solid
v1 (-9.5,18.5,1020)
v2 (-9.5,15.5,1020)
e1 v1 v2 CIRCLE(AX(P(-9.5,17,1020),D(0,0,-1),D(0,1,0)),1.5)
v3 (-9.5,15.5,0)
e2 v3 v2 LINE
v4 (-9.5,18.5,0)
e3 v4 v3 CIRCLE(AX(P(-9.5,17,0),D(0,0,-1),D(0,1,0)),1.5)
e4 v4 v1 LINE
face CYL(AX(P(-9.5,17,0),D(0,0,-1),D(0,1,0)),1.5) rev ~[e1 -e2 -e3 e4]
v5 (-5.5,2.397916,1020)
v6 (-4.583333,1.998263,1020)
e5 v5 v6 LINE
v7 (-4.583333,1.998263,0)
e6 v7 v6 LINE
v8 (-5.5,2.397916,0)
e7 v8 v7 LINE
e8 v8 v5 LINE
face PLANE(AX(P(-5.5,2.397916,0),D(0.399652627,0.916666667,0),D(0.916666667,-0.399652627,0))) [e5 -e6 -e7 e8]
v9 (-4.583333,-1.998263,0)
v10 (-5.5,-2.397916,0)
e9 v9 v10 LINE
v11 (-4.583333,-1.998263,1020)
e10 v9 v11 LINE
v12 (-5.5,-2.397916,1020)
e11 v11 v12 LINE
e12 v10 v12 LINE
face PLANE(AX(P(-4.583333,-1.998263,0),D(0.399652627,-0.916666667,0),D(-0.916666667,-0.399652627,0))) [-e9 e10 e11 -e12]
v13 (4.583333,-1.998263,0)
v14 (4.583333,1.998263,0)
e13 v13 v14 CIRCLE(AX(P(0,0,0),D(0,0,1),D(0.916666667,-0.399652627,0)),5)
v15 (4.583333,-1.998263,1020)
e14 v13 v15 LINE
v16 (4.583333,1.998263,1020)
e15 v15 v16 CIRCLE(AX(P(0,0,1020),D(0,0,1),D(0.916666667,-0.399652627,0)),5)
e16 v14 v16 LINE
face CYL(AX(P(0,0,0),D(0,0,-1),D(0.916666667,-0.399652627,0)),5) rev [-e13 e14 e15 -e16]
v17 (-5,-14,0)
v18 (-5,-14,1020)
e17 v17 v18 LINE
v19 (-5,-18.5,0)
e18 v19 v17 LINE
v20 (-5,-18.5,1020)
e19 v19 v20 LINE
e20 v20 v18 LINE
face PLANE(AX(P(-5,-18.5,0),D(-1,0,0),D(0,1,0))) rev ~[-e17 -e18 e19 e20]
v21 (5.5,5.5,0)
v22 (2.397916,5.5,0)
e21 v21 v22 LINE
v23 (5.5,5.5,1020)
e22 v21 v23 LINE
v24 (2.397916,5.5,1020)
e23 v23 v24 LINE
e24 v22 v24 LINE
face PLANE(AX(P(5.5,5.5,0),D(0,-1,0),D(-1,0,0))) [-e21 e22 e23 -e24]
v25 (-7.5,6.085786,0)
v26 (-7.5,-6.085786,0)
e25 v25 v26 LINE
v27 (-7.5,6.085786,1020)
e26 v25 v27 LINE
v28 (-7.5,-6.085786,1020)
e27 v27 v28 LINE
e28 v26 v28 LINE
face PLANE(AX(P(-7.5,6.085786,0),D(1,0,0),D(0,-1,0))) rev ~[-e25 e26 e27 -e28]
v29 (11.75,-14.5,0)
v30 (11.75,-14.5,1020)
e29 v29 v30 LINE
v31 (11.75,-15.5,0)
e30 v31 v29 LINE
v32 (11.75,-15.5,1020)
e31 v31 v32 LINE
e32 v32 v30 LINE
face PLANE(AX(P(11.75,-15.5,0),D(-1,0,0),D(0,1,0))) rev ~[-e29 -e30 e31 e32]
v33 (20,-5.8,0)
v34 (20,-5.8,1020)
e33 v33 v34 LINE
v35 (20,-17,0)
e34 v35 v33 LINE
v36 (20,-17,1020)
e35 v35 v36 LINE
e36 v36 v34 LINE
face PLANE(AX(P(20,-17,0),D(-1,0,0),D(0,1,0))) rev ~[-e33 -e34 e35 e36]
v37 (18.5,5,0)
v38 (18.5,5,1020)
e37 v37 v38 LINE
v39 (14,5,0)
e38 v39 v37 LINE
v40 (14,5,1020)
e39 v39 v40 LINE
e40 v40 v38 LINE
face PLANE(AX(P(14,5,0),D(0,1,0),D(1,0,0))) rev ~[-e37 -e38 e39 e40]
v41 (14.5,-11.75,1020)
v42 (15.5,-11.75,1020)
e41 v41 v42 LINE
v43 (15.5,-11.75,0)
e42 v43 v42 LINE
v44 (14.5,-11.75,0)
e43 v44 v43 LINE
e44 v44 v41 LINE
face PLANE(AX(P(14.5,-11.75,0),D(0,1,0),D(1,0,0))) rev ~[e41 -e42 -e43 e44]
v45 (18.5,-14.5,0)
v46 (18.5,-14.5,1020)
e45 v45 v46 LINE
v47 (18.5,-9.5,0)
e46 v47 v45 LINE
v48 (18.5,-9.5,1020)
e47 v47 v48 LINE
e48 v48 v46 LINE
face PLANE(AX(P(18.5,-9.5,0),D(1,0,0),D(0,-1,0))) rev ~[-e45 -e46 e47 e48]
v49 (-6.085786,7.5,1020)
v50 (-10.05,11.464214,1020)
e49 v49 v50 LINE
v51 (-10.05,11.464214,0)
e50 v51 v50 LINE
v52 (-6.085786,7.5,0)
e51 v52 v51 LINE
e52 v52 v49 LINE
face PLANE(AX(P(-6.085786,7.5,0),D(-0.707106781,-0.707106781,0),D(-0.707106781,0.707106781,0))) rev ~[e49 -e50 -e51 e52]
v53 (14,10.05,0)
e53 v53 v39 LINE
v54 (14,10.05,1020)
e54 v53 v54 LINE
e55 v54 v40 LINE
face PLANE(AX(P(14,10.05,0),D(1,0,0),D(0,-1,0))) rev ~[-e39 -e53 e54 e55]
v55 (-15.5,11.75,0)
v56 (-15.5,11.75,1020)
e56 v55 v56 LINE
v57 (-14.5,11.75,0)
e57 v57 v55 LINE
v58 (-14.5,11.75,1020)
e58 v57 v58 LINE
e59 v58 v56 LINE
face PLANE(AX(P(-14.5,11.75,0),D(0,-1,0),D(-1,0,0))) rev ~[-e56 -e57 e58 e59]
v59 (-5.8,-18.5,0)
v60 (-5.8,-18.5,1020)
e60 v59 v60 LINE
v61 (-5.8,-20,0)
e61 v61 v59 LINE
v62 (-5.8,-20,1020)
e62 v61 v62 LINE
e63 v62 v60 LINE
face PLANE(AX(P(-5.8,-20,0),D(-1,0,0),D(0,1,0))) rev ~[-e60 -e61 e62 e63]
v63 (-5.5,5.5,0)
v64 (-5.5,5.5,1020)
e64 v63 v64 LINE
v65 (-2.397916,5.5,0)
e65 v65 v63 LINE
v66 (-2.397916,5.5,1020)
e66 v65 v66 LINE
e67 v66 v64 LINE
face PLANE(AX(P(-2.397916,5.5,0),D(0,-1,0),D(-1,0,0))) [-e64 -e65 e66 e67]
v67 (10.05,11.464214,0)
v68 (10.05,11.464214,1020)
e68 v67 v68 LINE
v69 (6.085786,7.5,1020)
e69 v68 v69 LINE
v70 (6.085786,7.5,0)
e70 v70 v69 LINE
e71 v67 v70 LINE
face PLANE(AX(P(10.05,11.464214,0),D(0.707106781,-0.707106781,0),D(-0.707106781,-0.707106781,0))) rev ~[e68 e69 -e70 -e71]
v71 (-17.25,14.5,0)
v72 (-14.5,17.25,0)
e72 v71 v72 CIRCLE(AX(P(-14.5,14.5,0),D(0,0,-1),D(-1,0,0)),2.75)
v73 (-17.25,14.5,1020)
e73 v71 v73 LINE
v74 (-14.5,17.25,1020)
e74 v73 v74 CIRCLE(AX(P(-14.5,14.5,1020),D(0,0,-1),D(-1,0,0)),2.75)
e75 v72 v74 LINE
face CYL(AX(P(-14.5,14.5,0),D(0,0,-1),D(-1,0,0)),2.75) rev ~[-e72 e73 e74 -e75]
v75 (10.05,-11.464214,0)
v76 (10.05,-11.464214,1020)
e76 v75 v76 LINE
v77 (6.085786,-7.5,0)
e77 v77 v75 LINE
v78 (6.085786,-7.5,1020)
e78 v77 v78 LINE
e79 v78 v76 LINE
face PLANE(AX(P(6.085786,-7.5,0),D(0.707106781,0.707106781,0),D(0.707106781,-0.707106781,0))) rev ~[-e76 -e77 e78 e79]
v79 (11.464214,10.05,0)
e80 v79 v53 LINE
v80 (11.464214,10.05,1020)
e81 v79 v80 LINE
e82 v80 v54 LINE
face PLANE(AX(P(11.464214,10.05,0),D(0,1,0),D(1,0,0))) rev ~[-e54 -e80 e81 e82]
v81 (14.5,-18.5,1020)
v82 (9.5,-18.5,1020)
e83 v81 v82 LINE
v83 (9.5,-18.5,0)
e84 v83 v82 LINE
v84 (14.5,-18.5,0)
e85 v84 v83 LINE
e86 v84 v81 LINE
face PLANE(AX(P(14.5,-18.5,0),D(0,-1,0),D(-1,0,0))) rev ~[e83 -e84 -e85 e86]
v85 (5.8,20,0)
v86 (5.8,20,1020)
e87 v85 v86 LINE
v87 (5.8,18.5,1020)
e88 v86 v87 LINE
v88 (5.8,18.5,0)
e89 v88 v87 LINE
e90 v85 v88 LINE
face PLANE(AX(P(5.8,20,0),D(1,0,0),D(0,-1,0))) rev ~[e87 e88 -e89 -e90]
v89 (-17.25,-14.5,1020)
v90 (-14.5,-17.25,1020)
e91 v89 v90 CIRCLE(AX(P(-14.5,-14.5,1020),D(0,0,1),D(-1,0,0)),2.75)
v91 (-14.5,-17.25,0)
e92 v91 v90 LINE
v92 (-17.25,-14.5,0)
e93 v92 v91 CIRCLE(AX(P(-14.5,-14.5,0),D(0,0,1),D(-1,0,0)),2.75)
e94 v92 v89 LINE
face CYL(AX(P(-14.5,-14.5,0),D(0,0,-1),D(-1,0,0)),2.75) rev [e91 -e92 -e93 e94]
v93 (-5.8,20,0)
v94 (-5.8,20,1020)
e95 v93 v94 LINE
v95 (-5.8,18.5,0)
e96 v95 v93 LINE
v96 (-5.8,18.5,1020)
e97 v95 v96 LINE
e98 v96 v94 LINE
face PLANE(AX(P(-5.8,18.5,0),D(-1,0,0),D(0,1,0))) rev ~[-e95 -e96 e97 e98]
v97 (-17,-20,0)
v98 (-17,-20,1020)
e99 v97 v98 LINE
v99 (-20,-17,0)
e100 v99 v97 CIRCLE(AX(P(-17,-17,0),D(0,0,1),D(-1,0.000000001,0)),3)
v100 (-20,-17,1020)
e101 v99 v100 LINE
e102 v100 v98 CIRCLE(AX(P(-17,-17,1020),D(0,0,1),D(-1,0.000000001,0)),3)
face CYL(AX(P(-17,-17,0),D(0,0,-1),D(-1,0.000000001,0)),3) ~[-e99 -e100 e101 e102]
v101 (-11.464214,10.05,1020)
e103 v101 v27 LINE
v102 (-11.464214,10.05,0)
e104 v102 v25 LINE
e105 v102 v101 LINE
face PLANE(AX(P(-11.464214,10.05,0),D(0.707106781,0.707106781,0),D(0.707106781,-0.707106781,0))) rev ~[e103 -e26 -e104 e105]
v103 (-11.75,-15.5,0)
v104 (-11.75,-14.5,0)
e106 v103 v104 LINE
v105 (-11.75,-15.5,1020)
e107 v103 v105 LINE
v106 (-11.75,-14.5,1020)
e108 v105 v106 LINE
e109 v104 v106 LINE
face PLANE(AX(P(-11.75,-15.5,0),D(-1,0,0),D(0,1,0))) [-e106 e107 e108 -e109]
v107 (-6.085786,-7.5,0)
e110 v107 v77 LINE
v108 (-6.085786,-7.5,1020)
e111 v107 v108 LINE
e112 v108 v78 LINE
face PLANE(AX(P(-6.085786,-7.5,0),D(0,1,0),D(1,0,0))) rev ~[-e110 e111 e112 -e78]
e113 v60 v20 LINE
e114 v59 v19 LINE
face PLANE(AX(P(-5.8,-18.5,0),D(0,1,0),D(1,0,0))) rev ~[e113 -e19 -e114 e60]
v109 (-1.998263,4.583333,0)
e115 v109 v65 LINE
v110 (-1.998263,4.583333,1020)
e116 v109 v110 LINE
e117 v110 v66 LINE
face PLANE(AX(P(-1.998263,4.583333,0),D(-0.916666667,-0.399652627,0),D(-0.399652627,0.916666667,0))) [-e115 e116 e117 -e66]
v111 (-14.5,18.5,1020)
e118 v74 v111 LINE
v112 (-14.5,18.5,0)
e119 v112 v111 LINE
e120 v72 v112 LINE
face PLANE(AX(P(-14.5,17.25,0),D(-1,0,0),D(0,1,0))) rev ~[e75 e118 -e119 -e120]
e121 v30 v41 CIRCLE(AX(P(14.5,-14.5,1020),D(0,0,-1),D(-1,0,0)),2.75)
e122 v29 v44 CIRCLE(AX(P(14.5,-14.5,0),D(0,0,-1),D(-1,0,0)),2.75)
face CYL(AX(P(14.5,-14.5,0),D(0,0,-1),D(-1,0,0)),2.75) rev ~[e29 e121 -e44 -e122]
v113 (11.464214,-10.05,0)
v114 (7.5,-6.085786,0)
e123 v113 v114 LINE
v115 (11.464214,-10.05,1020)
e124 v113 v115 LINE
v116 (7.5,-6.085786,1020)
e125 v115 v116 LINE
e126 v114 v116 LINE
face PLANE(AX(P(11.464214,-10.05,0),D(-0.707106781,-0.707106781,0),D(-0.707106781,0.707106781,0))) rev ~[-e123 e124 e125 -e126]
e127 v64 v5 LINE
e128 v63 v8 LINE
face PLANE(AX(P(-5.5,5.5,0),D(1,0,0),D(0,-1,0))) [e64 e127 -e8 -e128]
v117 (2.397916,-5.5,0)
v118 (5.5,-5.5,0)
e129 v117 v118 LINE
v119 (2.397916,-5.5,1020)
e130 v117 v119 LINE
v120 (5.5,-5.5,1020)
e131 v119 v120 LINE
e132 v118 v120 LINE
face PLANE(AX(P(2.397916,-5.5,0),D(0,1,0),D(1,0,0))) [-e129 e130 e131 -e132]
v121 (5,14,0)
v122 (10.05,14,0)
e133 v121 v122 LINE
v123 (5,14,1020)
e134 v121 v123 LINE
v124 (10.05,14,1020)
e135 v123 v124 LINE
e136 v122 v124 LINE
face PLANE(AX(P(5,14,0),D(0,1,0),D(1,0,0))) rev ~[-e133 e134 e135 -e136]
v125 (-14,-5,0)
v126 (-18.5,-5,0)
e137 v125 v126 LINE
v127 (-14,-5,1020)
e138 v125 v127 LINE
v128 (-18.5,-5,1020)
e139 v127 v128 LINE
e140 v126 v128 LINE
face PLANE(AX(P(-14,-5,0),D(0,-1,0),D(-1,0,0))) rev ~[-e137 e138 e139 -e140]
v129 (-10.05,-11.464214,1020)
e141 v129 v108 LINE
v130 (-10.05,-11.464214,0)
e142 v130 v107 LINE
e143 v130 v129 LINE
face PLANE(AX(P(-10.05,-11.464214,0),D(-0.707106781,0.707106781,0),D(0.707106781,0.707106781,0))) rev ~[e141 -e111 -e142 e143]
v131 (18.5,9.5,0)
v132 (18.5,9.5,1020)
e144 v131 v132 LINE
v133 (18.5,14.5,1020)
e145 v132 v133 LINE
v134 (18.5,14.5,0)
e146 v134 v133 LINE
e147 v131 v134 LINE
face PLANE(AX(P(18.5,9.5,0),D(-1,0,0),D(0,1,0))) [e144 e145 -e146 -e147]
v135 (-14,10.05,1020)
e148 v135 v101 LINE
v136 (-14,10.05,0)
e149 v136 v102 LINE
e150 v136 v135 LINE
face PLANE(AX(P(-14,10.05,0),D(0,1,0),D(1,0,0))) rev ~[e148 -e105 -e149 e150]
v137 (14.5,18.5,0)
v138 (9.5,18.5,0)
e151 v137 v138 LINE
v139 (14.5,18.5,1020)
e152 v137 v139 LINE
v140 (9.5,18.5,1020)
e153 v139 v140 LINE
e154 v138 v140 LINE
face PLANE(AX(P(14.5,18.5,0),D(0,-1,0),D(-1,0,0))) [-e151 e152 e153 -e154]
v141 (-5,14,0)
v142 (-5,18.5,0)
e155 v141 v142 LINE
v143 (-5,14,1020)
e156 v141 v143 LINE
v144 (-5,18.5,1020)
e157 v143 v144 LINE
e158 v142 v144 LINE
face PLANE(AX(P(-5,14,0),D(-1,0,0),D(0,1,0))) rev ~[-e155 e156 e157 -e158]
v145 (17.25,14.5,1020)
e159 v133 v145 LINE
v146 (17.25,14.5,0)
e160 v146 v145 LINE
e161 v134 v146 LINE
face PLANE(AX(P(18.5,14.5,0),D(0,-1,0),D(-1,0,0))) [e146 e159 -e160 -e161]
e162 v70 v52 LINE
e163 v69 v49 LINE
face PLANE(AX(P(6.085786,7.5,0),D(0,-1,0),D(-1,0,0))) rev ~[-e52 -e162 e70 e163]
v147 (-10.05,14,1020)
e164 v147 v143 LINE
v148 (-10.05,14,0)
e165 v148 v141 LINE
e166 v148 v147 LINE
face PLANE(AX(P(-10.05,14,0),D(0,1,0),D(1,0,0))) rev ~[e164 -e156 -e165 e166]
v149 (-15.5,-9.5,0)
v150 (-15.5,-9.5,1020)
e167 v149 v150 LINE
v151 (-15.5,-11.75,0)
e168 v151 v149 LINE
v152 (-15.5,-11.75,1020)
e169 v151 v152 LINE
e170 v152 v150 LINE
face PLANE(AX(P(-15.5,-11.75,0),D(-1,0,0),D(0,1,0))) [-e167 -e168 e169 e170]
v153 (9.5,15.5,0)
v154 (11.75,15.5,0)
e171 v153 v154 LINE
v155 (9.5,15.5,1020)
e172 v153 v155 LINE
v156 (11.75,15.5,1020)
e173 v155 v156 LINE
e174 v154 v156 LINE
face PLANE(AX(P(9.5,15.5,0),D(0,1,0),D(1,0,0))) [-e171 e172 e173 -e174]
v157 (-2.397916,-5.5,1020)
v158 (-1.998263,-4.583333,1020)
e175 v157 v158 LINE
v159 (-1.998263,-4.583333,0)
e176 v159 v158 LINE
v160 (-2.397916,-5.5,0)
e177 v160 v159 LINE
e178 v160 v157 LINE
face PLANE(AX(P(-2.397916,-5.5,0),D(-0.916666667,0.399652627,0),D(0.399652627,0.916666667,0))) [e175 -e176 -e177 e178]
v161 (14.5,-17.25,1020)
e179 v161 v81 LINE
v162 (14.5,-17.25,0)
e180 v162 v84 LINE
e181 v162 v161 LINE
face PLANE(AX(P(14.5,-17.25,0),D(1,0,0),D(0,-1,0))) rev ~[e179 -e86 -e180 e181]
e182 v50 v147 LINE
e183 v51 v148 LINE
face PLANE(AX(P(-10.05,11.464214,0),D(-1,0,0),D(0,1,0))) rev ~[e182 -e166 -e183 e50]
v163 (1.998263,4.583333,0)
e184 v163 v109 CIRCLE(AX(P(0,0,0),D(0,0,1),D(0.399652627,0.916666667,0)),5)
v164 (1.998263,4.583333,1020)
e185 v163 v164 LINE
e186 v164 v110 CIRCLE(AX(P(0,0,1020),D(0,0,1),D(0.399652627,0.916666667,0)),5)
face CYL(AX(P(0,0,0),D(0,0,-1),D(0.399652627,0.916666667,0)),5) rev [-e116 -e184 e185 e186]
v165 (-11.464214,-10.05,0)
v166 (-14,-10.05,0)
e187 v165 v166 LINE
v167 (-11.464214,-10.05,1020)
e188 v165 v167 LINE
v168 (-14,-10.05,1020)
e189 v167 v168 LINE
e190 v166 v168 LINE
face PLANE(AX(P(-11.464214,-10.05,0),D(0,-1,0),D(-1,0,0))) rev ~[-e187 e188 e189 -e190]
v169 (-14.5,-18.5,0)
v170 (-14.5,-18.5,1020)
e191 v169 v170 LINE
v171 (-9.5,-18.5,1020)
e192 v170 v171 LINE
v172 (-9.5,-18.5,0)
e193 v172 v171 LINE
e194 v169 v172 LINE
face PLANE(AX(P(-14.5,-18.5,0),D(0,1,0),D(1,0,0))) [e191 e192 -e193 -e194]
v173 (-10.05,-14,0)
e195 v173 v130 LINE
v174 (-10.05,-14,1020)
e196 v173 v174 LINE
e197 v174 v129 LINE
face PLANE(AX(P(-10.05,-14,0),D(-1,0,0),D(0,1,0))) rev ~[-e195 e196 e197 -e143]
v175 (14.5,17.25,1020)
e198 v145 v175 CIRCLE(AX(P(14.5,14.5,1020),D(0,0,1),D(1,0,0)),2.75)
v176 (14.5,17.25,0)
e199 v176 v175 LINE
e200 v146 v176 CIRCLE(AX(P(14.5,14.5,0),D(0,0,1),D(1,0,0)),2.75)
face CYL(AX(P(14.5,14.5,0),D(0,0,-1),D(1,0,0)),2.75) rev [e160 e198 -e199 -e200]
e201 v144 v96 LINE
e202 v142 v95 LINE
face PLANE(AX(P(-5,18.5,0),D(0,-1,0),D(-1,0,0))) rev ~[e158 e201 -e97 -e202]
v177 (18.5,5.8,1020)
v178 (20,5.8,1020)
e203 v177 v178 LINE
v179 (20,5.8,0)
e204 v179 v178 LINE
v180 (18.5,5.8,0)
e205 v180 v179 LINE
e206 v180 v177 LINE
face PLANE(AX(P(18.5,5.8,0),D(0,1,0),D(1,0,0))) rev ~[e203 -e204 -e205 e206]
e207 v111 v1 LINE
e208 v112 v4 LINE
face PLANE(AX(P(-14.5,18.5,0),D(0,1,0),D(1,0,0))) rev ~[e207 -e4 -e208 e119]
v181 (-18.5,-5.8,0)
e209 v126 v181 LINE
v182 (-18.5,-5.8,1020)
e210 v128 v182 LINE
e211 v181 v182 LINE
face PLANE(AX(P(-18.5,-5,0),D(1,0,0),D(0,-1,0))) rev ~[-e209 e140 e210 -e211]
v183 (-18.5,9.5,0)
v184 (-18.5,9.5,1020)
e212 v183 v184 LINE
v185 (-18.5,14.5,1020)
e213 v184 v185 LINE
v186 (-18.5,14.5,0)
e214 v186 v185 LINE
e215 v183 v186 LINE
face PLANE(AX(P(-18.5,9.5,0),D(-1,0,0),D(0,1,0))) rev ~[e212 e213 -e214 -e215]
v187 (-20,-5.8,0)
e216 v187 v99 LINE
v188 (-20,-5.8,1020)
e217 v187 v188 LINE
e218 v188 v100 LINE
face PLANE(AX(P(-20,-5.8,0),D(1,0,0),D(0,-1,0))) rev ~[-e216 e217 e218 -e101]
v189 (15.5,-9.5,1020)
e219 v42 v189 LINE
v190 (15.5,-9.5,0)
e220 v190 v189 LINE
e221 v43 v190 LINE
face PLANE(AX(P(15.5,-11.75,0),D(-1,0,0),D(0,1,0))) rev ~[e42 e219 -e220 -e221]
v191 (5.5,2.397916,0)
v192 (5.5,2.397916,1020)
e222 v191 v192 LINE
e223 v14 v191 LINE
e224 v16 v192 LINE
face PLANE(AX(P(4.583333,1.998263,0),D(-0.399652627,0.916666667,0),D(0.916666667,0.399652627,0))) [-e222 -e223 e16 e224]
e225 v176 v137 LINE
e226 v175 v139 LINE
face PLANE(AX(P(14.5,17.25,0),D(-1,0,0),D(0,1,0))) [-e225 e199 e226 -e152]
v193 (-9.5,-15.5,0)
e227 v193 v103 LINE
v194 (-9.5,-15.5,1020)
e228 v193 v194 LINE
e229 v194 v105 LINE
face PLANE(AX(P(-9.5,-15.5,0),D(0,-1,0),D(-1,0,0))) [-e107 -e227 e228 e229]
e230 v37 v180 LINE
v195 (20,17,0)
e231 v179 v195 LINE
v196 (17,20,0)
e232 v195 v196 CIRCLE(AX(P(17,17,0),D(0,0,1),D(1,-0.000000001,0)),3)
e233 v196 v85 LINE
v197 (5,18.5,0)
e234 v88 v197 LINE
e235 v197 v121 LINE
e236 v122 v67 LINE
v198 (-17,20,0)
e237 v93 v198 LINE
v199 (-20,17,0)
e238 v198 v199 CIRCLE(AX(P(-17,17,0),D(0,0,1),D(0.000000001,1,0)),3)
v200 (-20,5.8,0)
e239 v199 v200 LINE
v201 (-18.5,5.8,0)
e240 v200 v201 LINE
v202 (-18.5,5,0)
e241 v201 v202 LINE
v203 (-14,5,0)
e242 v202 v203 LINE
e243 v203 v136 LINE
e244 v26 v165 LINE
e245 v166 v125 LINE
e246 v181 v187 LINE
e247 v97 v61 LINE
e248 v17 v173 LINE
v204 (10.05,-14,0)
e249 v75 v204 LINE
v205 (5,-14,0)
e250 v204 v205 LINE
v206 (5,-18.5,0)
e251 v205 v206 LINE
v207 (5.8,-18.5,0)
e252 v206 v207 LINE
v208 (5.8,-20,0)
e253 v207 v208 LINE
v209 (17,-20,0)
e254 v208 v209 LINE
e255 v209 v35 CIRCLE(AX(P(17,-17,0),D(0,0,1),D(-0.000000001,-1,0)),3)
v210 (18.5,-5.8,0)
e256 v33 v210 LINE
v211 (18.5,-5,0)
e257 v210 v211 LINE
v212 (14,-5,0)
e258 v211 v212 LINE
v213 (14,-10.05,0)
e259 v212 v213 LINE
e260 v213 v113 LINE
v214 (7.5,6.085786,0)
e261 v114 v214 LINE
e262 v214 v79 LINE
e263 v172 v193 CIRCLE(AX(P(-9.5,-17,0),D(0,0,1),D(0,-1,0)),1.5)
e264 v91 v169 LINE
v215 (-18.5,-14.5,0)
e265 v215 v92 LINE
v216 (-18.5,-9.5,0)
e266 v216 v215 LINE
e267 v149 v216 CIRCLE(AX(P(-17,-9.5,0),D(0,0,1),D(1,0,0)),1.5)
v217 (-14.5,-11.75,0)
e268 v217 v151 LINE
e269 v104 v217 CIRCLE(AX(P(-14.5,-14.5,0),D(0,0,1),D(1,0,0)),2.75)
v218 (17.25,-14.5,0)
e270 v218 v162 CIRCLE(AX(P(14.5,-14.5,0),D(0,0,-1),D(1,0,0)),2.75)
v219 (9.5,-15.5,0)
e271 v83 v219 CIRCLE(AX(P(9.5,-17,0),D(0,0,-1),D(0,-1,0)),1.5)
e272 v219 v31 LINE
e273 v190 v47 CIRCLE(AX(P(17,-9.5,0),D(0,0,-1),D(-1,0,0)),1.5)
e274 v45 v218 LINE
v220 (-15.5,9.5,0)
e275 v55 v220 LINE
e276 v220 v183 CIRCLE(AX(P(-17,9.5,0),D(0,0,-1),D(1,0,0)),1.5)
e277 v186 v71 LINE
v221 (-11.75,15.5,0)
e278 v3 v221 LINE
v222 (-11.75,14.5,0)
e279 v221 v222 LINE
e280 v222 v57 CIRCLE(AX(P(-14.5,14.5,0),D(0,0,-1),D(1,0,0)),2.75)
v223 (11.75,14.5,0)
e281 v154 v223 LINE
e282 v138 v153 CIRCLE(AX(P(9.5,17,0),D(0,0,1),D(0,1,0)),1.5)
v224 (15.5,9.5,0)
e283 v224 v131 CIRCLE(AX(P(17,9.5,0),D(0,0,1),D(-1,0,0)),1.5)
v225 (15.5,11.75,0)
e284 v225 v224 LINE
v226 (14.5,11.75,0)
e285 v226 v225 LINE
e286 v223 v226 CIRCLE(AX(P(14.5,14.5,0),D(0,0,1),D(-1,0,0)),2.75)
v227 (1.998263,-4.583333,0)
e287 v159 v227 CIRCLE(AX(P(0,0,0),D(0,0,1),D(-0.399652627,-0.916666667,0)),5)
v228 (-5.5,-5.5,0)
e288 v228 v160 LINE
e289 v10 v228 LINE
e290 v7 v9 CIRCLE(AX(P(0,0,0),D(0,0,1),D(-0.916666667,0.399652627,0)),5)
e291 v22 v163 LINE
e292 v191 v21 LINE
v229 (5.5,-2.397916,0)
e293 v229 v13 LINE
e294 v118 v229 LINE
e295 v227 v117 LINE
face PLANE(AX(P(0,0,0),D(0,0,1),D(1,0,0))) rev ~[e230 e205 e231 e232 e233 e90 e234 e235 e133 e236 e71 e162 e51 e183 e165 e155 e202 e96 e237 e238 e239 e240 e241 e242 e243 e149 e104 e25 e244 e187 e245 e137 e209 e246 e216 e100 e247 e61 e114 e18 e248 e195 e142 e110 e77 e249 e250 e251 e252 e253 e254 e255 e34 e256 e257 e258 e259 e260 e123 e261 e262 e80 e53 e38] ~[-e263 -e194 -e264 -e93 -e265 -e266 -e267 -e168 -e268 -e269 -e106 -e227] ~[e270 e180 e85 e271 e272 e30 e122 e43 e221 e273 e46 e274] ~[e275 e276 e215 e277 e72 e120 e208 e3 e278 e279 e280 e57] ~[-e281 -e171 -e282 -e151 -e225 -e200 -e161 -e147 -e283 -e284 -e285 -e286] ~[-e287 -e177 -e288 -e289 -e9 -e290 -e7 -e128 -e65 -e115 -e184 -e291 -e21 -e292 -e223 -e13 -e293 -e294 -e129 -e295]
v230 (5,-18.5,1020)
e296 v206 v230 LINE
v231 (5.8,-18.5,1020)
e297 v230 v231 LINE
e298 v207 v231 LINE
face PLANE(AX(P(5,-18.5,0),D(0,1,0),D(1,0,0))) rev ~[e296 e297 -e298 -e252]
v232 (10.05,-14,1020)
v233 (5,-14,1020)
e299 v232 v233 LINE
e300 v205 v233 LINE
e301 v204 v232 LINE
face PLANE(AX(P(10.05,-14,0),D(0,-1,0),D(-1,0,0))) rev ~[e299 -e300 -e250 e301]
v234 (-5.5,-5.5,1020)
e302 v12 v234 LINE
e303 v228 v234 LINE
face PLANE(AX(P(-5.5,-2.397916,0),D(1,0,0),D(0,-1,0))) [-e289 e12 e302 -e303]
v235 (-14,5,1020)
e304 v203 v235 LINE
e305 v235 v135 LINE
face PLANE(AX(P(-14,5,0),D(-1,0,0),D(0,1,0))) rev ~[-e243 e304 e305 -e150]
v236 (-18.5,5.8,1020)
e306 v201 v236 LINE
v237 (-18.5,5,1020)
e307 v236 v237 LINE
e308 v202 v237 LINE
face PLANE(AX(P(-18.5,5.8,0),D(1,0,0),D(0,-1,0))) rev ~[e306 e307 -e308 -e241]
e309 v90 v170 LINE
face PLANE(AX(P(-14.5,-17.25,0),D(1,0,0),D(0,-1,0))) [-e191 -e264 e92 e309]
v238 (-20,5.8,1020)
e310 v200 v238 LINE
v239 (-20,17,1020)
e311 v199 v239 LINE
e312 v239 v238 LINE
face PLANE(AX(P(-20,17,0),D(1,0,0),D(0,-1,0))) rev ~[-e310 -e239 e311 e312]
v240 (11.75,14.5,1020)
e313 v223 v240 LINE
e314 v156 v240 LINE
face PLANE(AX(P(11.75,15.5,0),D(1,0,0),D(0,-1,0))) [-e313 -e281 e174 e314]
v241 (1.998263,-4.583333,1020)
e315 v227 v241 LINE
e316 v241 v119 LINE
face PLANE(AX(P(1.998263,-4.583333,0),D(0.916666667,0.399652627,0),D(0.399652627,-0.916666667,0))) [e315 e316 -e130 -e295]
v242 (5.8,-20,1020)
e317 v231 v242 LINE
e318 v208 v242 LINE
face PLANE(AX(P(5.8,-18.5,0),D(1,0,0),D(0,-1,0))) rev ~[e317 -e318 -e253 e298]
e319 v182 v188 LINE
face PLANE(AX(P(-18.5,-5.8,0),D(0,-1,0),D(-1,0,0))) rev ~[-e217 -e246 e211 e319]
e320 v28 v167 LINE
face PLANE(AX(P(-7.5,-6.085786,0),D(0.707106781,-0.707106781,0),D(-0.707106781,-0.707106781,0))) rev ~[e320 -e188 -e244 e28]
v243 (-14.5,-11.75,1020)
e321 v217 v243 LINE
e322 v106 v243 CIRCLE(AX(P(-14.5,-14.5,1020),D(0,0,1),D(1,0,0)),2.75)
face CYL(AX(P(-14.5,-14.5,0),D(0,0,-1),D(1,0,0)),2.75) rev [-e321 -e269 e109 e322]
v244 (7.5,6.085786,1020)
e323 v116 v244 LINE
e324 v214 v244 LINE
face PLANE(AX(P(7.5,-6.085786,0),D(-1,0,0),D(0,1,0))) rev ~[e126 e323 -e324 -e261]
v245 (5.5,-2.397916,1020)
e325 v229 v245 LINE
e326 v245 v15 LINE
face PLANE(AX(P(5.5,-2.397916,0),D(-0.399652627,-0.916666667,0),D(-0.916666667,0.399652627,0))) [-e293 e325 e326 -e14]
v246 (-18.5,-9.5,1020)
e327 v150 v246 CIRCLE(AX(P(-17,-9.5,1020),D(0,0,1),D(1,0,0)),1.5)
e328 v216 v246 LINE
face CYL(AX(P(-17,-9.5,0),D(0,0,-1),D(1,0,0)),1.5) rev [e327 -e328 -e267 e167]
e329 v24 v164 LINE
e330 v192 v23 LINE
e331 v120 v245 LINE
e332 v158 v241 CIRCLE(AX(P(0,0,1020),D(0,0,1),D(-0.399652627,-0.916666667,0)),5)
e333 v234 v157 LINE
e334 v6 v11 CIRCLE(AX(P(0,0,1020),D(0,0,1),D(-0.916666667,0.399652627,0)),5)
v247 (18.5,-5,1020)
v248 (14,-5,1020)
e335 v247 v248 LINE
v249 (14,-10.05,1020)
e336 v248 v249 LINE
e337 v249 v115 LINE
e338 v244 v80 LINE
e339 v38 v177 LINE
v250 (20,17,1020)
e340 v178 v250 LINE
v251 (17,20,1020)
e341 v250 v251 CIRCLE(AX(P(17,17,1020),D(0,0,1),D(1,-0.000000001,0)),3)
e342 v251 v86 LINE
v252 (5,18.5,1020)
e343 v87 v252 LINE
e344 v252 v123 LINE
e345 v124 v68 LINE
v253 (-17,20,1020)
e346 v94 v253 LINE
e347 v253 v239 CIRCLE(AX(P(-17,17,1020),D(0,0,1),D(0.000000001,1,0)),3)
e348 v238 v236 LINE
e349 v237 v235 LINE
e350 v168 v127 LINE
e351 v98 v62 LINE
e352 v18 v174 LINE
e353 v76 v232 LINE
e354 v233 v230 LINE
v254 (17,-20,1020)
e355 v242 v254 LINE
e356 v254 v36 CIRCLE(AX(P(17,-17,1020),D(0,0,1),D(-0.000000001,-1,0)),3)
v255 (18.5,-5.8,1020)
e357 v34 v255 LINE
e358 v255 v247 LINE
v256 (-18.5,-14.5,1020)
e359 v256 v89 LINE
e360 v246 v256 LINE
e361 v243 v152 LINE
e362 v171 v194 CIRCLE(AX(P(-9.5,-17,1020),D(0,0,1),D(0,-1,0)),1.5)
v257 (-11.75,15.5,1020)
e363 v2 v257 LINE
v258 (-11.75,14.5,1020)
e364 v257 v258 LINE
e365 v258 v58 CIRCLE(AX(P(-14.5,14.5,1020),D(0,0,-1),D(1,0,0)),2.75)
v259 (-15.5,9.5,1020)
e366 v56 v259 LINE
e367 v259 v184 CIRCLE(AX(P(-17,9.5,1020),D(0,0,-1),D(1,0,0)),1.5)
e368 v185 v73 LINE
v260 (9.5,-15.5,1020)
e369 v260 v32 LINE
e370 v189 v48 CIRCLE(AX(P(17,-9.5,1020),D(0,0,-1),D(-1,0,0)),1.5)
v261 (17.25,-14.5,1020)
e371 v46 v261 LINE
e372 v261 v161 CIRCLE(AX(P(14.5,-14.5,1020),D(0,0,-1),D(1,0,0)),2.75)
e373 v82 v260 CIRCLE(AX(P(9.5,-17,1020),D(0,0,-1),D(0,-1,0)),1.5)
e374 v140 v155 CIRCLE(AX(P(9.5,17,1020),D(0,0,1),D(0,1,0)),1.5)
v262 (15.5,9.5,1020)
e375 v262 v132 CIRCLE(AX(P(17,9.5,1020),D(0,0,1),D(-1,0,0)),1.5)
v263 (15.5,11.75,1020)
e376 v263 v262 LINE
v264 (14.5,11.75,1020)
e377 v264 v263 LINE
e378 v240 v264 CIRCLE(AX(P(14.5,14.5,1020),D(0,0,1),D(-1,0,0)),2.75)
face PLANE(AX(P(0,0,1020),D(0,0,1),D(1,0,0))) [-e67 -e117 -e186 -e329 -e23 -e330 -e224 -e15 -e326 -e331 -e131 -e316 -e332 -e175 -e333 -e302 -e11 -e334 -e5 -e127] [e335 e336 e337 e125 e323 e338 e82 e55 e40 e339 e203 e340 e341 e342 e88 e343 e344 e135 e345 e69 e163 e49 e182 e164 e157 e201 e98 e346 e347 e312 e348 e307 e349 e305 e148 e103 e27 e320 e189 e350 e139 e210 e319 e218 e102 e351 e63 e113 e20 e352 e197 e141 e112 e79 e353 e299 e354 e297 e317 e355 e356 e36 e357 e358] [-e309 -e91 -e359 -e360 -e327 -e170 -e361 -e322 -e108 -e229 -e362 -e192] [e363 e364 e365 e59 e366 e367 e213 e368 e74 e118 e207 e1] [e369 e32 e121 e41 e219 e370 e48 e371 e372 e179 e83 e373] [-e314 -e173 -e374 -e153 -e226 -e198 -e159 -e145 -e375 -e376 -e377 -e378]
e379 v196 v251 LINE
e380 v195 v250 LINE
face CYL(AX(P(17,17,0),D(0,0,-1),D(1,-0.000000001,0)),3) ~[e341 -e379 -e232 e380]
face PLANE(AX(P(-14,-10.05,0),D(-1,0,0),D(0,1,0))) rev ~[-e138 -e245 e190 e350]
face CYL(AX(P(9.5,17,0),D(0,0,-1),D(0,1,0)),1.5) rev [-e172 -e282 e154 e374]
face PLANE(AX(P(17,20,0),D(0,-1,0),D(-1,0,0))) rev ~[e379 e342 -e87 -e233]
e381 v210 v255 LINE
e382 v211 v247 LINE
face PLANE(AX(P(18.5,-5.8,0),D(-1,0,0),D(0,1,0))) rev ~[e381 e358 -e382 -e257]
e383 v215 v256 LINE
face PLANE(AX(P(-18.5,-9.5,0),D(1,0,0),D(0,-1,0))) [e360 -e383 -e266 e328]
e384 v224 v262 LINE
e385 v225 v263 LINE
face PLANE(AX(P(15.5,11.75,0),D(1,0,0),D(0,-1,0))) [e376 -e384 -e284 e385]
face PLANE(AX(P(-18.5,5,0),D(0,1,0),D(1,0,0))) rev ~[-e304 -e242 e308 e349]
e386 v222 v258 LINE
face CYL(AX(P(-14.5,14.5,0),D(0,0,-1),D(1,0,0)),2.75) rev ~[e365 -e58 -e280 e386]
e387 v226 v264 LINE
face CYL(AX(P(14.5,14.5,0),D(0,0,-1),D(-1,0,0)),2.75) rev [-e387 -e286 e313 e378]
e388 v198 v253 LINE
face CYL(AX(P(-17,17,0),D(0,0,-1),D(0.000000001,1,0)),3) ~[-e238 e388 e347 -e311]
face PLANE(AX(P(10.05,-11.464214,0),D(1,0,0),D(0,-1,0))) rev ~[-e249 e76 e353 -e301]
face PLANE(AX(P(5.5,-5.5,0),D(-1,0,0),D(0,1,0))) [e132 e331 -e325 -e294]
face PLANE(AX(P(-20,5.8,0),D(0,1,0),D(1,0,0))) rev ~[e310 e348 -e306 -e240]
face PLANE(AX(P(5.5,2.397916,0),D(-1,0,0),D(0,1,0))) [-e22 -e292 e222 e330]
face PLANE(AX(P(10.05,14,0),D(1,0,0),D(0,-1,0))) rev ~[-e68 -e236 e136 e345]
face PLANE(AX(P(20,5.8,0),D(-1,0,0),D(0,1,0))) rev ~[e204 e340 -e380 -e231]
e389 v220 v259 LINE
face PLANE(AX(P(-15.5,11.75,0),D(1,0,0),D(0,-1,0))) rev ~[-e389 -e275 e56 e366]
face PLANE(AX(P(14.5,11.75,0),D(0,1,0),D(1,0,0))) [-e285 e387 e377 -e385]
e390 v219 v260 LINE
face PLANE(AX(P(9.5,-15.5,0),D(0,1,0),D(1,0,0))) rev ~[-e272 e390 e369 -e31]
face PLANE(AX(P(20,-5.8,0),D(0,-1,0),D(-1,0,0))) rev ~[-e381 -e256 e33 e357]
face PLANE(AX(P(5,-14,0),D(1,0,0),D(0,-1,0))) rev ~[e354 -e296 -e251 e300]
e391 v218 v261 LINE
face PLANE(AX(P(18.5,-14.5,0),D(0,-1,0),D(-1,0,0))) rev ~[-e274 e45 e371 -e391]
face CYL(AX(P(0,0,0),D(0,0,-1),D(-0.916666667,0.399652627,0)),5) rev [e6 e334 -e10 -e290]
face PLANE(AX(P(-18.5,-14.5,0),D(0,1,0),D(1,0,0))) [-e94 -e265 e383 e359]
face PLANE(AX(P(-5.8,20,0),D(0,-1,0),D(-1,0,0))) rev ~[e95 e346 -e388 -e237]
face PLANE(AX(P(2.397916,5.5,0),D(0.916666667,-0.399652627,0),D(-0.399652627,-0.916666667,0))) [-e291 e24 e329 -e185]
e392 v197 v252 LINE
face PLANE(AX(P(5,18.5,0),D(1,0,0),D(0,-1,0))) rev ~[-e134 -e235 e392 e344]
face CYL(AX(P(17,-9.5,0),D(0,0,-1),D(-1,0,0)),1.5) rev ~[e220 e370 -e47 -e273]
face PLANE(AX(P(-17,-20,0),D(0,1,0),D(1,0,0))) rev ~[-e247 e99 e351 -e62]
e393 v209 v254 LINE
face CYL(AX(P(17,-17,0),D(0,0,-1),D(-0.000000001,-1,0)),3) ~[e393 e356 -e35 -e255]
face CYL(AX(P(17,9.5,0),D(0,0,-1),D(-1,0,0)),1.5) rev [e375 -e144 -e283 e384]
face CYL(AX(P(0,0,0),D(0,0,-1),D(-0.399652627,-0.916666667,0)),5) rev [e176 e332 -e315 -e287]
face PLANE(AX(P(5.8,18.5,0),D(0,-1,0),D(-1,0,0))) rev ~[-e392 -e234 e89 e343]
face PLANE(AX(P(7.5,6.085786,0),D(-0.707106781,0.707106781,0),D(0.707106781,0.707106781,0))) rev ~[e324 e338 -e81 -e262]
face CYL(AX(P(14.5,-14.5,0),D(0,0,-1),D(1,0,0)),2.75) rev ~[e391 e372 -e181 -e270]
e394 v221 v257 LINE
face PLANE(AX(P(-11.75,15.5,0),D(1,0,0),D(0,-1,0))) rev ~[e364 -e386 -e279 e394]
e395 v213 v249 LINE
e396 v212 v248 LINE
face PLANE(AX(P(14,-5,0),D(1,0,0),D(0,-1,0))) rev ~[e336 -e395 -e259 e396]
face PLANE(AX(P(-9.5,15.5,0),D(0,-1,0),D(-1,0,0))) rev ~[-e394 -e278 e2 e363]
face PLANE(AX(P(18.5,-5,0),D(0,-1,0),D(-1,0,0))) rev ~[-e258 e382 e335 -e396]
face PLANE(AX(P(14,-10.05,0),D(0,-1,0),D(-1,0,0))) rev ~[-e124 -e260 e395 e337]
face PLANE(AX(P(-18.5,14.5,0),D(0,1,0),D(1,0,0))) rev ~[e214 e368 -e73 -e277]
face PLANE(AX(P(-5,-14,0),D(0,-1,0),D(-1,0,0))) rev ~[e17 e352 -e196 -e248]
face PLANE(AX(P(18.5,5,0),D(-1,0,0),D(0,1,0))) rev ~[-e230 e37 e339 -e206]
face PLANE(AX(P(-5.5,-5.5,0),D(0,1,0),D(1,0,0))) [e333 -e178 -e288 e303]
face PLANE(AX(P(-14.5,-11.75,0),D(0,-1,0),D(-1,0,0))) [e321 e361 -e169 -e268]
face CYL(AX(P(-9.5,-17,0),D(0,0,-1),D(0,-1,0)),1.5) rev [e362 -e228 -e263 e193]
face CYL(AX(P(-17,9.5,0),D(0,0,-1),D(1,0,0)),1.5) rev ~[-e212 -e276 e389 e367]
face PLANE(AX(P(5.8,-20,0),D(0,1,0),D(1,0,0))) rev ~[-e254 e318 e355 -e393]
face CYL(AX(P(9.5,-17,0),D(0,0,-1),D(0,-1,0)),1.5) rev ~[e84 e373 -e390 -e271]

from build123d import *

# Parameters (mm, degrees)
EXTRUDE1_DEPTH = 1020


with BuildPart() as part:
    # Sketch1 → Extrude1 (new body)
    with BuildSketch(Plane.XY):
        with BuildLine():
            Line((5.8, -20), (17, -20))
            ThreePointArc((17, -20), (19.121320344, -19.121320344), (20, -17))
            Line((20, -17), (20, -5.8))
            Line((20, -5.8), (18.5, -5.8))
            Line((18.5, -5.8), (18.5, -5))
            Line((18.5, -5), (14, -5))
            Line((14, -5), (14, -10.05))
            Line((14, -10.05), (11.464213562, -10.05))
            Line((11.464213562, -10.05), (7.5, -6.085786438))
            Line((7.5, -6.085786438), (7.5, 6.085786438))
            Line((7.5, 6.085786438), (11.464213562, 10.05))
            Line((11.464213562, 10.05), (14, 10.05))
            Line((14, 10.05), (14, 5))
            Line((14, 5), (18.5, 5))
            Line((18.5, 5), (18.5, 5.8))
            Line((18.5, 5.8), (20, 5.8))
            Line((20, 5.8), (20, 17))
            ThreePointArc((20, 17), (19.121320344, 19.121320344), (17, 20))
            Line((17, 20), (5.8, 20))
            Line((5.8, 20), (5.8, 18.5))
            Line((5.8, 18.5), (5, 18.5))
            Line((5, 18.5), (5, 14))
            Line((5, 14), (10.05, 14))
            Line((10.05, 14), (10.05, 11.464213562))
            Line((10.05, 11.464213562), (6.085786438, 7.5))
            Line((6.085786438, 7.5), (-6.085786438, 7.5))
            Line((-6.085786438, 7.5), (-10.05, 11.464213562))
            Line((-10.05, 11.464213562), (-10.05, 14))
            Line((-10.05, 14), (-5, 14))
            Line((-5, 14), (-5, 18.5))
            Line((-5, 18.5), (-5.8, 18.5))
            Line((-5.8, 18.5), (-5.8, 20))
            Line((-5.8, 20), (-17, 20))
            ThreePointArc((-17, 20), (-19.121320344, 19.121320344), (-20, 17))
            Line((-20, 17), (-20, 5.8))
            Line((-20, 5.8), (-18.5, 5.8))
            Line((-18.5, 5.8), (-18.5, 5))
            Line((-18.5, 5), (-14, 5))
            Line((-14, 5), (-14, 10.05))
            Line((-14, 10.05), (-11.464213562, 10.05))
            Line((-11.464213562, 10.05), (-7.5, 6.085786438))
            Line((-7.5, 6.085786438), (-7.5, -6.085786438))
            Line((-7.5, -6.085786438), (-11.464213562, -10.05))
            Line((-11.464213562, -10.05), (-14, -10.05))
            Line((-14, -10.05), (-14, -5))
            Line((-14, -5), (-18.5, -5))
            Line((-18.5, -5), (-18.5, -5.8))
            Line((-18.5, -5.8), (-20, -5.8))
            Line((-20, -5.8), (-20, -17))
            ThreePointArc((-20, -17), (-19.121320344, -19.121320344), (-17, -20))
            Line((-17, -20), (-5.8, -20))
            Line((-5.8, -20), (-5.8, -18.5))
            Line((-5.8, -18.5), (-5, -18.5))
            Line((-5, -18.5), (-5, -14))
            Line((-5, -14), (-10.05, -14))
            Line((-10.05, -14), (-10.05, -11.464213562))
            Line((-10.05, -11.464213562), (-6.085786438, -7.5))
            Line((-6.085786438, -7.5), (6.085786438, -7.5))
            Line((6.085786438, -7.5), (10.05, -11.464213562))
            Line((10.05, -11.464213562), (10.05, -14))
            Line((10.05, -14), (5, -14))
            Line((5, -14), (5, -18.5))
            Line((5, -18.5), (5.8, -18.5))
            Line((5.8, -18.5), (5.8, -20))
        make_face()
        with BuildLine():
            Line((14.5, -18.5), (9.5, -18.5))
            ThreePointArc((9.5, -18.5), (8, -17), (9.5, -15.5))
            Line((9.5, -15.5), (11.75, -15.5))
            Line((11.75, -15.5), (11.75, -14.5))
            ThreePointArc((11.75, -14.5), (12.555456352, -12.555456352), (14.5, -11.75))
            Line((14.5, -11.75), (15.5, -11.75))
            Line((15.5, -11.75), (15.5, -9.5))
            ThreePointArc((15.5, -9.5), (17, -8), (18.5, -9.5))
            Line((18.5, -9.5), (18.5, -14.5))
            Line((18.5, -14.5), (17.25, -14.5))
            ThreePointArc((17.25, -14.5), (16.444543648, -16.444543648), (14.5, -17.25))
            Line((14.5, -17.25), (14.5, -18.5))
        make_face(mode=Mode.SUBTRACT)
        with BuildLine():
            Line((18.5, 14.5), (17.25, 14.5))
            ThreePointArc((17.25, 14.5), (16.444543648, 16.444543648), (14.5, 17.25))
            Line((14.5, 17.25), (14.5, 18.5))
            Line((14.5, 18.5), (9.5, 18.5))
            ThreePointArc((9.5, 18.5), (8, 17), (9.5, 15.5))
            Line((9.5, 15.5), (11.75, 15.5))
            Line((11.75, 15.5), (11.75, 14.5))
            ThreePointArc((11.75, 14.5), (12.555456352, 12.555456352), (14.5, 11.75))
            Line((14.5, 11.75), (15.5, 11.75))
            Line((15.5, 11.75), (15.5, 9.5))
            ThreePointArc((15.5, 9.5), (17, 8), (18.5, 9.5))
            Line((18.5, 9.5), (18.5, 14.5))
        make_face(mode=Mode.SUBTRACT)
        with BuildLine():
            Line((5.5, 5.5), (2.397915762, 5.5))
            Line((2.397915762, 5.5), (1.998263135, 4.583333333))
            ThreePointArc((1.998263135, 4.583333333), (0, 5), (-1.998263135, 4.583333333))
            Line((-1.998263135, 4.583333333), (-2.397915762, 5.5))
            Line((-2.397915762, 5.5), (-5.5, 5.5))
            Line((-5.5, 5.5), (-5.5, 2.397915762))
            Line((-5.5, 2.397915762), (-4.583333333, 1.998263135))
            ThreePointArc((-4.583333333, 1.998263135), (-5, 0), (-4.583333333, -1.998263135))
            Line((-4.583333333, -1.998263135), (-5.5, -2.397915762))
            Line((-5.5, -2.397915762), (-5.5, -5.5))
            Line((-5.5, -5.5), (-2.397915762, -5.5))
            Line((-2.397915762, -5.5), (-1.998263135, -4.583333333))
            ThreePointArc((-1.998263135, -4.583333333), (0, -5), (1.998263135, -4.583333333))
            Line((1.998263135, -4.583333333), (2.397915762, -5.5))
            Line((2.397915762, -5.5), (5.5, -5.5))
            Line((5.5, -5.5), (5.5, -2.397915762))
            Line((5.5, -2.397915762), (4.583333333, -1.998263135))
            ThreePointArc((4.583333333, -1.998263135), (5, 0), (4.583333333, 1.998263135))
            Line((4.583333333, 1.998263135), (5.5, 2.397915762))
            Line((5.5, 2.397915762), (5.5, 5.5))
        make_face(mode=Mode.SUBTRACT)
        with BuildLine():
            Line((-18.5, -14.5), (-17.25, -14.5))
            ThreePointArc((-17.25, -14.5), (-16.444543648, -16.444543648), (-14.5, -17.25))
            Line((-14.5, -17.25), (-14.5, -18.5))
            Line((-14.5, -18.5), (-9.5, -18.5))
            ThreePointArc((-9.5, -18.5), (-8, -17), (-9.5, -15.5))
            Line((-9.5, -15.5), (-11.75, -15.5))
            Line((-11.75, -15.5), (-11.75, -14.5))
            ThreePointArc((-11.75, -14.5), (-12.555456352, -12.555456352), (-14.5, -11.75))
            Line((-14.5, -11.75), (-15.5, -11.75))
            Line((-15.5, -11.75), (-15.5, -9.5))
            ThreePointArc((-15.5, -9.5), (-17, -8), (-18.5, -9.5))
            Line((-18.5, -9.5), (-18.5, -14.5))
        make_face(mode=Mode.SUBTRACT)
        with BuildLine():
            Line((-14.5, 18.5), (-9.5, 18.5))
            ThreePointArc((-9.5, 18.5), (-8, 17), (-9.5, 15.5))
            Line((-9.5, 15.5), (-11.75, 15.5))
            Line((-11.75, 15.5), (-11.75, 14.5))
            ThreePointArc((-11.75, 14.5), (-12.555456352, 12.555456352), (-14.5, 11.75))
            Line((-14.5, 11.75), (-15.5, 11.75))
            Line((-15.5, 11.75), (-15.5, 9.5))
            ThreePointArc((-15.5, 9.5), (-17, 8), (-18.5, 9.5))
            Line((-18.5, 9.5), (-18.5, 14.5))
            Line((-18.5, 14.5), (-17.25, 14.5))
            ThreePointArc((-17.25, 14.5), (-16.444543648, 16.444543648), (-14.5, 17.25))
            Line((-14.5, 17.25), (-14.5, 18.5))
        make_face(mode=Mode.SUBTRACT)
    extrude(amount=EXTRUDE1_DEPTH)


solid = part.part
